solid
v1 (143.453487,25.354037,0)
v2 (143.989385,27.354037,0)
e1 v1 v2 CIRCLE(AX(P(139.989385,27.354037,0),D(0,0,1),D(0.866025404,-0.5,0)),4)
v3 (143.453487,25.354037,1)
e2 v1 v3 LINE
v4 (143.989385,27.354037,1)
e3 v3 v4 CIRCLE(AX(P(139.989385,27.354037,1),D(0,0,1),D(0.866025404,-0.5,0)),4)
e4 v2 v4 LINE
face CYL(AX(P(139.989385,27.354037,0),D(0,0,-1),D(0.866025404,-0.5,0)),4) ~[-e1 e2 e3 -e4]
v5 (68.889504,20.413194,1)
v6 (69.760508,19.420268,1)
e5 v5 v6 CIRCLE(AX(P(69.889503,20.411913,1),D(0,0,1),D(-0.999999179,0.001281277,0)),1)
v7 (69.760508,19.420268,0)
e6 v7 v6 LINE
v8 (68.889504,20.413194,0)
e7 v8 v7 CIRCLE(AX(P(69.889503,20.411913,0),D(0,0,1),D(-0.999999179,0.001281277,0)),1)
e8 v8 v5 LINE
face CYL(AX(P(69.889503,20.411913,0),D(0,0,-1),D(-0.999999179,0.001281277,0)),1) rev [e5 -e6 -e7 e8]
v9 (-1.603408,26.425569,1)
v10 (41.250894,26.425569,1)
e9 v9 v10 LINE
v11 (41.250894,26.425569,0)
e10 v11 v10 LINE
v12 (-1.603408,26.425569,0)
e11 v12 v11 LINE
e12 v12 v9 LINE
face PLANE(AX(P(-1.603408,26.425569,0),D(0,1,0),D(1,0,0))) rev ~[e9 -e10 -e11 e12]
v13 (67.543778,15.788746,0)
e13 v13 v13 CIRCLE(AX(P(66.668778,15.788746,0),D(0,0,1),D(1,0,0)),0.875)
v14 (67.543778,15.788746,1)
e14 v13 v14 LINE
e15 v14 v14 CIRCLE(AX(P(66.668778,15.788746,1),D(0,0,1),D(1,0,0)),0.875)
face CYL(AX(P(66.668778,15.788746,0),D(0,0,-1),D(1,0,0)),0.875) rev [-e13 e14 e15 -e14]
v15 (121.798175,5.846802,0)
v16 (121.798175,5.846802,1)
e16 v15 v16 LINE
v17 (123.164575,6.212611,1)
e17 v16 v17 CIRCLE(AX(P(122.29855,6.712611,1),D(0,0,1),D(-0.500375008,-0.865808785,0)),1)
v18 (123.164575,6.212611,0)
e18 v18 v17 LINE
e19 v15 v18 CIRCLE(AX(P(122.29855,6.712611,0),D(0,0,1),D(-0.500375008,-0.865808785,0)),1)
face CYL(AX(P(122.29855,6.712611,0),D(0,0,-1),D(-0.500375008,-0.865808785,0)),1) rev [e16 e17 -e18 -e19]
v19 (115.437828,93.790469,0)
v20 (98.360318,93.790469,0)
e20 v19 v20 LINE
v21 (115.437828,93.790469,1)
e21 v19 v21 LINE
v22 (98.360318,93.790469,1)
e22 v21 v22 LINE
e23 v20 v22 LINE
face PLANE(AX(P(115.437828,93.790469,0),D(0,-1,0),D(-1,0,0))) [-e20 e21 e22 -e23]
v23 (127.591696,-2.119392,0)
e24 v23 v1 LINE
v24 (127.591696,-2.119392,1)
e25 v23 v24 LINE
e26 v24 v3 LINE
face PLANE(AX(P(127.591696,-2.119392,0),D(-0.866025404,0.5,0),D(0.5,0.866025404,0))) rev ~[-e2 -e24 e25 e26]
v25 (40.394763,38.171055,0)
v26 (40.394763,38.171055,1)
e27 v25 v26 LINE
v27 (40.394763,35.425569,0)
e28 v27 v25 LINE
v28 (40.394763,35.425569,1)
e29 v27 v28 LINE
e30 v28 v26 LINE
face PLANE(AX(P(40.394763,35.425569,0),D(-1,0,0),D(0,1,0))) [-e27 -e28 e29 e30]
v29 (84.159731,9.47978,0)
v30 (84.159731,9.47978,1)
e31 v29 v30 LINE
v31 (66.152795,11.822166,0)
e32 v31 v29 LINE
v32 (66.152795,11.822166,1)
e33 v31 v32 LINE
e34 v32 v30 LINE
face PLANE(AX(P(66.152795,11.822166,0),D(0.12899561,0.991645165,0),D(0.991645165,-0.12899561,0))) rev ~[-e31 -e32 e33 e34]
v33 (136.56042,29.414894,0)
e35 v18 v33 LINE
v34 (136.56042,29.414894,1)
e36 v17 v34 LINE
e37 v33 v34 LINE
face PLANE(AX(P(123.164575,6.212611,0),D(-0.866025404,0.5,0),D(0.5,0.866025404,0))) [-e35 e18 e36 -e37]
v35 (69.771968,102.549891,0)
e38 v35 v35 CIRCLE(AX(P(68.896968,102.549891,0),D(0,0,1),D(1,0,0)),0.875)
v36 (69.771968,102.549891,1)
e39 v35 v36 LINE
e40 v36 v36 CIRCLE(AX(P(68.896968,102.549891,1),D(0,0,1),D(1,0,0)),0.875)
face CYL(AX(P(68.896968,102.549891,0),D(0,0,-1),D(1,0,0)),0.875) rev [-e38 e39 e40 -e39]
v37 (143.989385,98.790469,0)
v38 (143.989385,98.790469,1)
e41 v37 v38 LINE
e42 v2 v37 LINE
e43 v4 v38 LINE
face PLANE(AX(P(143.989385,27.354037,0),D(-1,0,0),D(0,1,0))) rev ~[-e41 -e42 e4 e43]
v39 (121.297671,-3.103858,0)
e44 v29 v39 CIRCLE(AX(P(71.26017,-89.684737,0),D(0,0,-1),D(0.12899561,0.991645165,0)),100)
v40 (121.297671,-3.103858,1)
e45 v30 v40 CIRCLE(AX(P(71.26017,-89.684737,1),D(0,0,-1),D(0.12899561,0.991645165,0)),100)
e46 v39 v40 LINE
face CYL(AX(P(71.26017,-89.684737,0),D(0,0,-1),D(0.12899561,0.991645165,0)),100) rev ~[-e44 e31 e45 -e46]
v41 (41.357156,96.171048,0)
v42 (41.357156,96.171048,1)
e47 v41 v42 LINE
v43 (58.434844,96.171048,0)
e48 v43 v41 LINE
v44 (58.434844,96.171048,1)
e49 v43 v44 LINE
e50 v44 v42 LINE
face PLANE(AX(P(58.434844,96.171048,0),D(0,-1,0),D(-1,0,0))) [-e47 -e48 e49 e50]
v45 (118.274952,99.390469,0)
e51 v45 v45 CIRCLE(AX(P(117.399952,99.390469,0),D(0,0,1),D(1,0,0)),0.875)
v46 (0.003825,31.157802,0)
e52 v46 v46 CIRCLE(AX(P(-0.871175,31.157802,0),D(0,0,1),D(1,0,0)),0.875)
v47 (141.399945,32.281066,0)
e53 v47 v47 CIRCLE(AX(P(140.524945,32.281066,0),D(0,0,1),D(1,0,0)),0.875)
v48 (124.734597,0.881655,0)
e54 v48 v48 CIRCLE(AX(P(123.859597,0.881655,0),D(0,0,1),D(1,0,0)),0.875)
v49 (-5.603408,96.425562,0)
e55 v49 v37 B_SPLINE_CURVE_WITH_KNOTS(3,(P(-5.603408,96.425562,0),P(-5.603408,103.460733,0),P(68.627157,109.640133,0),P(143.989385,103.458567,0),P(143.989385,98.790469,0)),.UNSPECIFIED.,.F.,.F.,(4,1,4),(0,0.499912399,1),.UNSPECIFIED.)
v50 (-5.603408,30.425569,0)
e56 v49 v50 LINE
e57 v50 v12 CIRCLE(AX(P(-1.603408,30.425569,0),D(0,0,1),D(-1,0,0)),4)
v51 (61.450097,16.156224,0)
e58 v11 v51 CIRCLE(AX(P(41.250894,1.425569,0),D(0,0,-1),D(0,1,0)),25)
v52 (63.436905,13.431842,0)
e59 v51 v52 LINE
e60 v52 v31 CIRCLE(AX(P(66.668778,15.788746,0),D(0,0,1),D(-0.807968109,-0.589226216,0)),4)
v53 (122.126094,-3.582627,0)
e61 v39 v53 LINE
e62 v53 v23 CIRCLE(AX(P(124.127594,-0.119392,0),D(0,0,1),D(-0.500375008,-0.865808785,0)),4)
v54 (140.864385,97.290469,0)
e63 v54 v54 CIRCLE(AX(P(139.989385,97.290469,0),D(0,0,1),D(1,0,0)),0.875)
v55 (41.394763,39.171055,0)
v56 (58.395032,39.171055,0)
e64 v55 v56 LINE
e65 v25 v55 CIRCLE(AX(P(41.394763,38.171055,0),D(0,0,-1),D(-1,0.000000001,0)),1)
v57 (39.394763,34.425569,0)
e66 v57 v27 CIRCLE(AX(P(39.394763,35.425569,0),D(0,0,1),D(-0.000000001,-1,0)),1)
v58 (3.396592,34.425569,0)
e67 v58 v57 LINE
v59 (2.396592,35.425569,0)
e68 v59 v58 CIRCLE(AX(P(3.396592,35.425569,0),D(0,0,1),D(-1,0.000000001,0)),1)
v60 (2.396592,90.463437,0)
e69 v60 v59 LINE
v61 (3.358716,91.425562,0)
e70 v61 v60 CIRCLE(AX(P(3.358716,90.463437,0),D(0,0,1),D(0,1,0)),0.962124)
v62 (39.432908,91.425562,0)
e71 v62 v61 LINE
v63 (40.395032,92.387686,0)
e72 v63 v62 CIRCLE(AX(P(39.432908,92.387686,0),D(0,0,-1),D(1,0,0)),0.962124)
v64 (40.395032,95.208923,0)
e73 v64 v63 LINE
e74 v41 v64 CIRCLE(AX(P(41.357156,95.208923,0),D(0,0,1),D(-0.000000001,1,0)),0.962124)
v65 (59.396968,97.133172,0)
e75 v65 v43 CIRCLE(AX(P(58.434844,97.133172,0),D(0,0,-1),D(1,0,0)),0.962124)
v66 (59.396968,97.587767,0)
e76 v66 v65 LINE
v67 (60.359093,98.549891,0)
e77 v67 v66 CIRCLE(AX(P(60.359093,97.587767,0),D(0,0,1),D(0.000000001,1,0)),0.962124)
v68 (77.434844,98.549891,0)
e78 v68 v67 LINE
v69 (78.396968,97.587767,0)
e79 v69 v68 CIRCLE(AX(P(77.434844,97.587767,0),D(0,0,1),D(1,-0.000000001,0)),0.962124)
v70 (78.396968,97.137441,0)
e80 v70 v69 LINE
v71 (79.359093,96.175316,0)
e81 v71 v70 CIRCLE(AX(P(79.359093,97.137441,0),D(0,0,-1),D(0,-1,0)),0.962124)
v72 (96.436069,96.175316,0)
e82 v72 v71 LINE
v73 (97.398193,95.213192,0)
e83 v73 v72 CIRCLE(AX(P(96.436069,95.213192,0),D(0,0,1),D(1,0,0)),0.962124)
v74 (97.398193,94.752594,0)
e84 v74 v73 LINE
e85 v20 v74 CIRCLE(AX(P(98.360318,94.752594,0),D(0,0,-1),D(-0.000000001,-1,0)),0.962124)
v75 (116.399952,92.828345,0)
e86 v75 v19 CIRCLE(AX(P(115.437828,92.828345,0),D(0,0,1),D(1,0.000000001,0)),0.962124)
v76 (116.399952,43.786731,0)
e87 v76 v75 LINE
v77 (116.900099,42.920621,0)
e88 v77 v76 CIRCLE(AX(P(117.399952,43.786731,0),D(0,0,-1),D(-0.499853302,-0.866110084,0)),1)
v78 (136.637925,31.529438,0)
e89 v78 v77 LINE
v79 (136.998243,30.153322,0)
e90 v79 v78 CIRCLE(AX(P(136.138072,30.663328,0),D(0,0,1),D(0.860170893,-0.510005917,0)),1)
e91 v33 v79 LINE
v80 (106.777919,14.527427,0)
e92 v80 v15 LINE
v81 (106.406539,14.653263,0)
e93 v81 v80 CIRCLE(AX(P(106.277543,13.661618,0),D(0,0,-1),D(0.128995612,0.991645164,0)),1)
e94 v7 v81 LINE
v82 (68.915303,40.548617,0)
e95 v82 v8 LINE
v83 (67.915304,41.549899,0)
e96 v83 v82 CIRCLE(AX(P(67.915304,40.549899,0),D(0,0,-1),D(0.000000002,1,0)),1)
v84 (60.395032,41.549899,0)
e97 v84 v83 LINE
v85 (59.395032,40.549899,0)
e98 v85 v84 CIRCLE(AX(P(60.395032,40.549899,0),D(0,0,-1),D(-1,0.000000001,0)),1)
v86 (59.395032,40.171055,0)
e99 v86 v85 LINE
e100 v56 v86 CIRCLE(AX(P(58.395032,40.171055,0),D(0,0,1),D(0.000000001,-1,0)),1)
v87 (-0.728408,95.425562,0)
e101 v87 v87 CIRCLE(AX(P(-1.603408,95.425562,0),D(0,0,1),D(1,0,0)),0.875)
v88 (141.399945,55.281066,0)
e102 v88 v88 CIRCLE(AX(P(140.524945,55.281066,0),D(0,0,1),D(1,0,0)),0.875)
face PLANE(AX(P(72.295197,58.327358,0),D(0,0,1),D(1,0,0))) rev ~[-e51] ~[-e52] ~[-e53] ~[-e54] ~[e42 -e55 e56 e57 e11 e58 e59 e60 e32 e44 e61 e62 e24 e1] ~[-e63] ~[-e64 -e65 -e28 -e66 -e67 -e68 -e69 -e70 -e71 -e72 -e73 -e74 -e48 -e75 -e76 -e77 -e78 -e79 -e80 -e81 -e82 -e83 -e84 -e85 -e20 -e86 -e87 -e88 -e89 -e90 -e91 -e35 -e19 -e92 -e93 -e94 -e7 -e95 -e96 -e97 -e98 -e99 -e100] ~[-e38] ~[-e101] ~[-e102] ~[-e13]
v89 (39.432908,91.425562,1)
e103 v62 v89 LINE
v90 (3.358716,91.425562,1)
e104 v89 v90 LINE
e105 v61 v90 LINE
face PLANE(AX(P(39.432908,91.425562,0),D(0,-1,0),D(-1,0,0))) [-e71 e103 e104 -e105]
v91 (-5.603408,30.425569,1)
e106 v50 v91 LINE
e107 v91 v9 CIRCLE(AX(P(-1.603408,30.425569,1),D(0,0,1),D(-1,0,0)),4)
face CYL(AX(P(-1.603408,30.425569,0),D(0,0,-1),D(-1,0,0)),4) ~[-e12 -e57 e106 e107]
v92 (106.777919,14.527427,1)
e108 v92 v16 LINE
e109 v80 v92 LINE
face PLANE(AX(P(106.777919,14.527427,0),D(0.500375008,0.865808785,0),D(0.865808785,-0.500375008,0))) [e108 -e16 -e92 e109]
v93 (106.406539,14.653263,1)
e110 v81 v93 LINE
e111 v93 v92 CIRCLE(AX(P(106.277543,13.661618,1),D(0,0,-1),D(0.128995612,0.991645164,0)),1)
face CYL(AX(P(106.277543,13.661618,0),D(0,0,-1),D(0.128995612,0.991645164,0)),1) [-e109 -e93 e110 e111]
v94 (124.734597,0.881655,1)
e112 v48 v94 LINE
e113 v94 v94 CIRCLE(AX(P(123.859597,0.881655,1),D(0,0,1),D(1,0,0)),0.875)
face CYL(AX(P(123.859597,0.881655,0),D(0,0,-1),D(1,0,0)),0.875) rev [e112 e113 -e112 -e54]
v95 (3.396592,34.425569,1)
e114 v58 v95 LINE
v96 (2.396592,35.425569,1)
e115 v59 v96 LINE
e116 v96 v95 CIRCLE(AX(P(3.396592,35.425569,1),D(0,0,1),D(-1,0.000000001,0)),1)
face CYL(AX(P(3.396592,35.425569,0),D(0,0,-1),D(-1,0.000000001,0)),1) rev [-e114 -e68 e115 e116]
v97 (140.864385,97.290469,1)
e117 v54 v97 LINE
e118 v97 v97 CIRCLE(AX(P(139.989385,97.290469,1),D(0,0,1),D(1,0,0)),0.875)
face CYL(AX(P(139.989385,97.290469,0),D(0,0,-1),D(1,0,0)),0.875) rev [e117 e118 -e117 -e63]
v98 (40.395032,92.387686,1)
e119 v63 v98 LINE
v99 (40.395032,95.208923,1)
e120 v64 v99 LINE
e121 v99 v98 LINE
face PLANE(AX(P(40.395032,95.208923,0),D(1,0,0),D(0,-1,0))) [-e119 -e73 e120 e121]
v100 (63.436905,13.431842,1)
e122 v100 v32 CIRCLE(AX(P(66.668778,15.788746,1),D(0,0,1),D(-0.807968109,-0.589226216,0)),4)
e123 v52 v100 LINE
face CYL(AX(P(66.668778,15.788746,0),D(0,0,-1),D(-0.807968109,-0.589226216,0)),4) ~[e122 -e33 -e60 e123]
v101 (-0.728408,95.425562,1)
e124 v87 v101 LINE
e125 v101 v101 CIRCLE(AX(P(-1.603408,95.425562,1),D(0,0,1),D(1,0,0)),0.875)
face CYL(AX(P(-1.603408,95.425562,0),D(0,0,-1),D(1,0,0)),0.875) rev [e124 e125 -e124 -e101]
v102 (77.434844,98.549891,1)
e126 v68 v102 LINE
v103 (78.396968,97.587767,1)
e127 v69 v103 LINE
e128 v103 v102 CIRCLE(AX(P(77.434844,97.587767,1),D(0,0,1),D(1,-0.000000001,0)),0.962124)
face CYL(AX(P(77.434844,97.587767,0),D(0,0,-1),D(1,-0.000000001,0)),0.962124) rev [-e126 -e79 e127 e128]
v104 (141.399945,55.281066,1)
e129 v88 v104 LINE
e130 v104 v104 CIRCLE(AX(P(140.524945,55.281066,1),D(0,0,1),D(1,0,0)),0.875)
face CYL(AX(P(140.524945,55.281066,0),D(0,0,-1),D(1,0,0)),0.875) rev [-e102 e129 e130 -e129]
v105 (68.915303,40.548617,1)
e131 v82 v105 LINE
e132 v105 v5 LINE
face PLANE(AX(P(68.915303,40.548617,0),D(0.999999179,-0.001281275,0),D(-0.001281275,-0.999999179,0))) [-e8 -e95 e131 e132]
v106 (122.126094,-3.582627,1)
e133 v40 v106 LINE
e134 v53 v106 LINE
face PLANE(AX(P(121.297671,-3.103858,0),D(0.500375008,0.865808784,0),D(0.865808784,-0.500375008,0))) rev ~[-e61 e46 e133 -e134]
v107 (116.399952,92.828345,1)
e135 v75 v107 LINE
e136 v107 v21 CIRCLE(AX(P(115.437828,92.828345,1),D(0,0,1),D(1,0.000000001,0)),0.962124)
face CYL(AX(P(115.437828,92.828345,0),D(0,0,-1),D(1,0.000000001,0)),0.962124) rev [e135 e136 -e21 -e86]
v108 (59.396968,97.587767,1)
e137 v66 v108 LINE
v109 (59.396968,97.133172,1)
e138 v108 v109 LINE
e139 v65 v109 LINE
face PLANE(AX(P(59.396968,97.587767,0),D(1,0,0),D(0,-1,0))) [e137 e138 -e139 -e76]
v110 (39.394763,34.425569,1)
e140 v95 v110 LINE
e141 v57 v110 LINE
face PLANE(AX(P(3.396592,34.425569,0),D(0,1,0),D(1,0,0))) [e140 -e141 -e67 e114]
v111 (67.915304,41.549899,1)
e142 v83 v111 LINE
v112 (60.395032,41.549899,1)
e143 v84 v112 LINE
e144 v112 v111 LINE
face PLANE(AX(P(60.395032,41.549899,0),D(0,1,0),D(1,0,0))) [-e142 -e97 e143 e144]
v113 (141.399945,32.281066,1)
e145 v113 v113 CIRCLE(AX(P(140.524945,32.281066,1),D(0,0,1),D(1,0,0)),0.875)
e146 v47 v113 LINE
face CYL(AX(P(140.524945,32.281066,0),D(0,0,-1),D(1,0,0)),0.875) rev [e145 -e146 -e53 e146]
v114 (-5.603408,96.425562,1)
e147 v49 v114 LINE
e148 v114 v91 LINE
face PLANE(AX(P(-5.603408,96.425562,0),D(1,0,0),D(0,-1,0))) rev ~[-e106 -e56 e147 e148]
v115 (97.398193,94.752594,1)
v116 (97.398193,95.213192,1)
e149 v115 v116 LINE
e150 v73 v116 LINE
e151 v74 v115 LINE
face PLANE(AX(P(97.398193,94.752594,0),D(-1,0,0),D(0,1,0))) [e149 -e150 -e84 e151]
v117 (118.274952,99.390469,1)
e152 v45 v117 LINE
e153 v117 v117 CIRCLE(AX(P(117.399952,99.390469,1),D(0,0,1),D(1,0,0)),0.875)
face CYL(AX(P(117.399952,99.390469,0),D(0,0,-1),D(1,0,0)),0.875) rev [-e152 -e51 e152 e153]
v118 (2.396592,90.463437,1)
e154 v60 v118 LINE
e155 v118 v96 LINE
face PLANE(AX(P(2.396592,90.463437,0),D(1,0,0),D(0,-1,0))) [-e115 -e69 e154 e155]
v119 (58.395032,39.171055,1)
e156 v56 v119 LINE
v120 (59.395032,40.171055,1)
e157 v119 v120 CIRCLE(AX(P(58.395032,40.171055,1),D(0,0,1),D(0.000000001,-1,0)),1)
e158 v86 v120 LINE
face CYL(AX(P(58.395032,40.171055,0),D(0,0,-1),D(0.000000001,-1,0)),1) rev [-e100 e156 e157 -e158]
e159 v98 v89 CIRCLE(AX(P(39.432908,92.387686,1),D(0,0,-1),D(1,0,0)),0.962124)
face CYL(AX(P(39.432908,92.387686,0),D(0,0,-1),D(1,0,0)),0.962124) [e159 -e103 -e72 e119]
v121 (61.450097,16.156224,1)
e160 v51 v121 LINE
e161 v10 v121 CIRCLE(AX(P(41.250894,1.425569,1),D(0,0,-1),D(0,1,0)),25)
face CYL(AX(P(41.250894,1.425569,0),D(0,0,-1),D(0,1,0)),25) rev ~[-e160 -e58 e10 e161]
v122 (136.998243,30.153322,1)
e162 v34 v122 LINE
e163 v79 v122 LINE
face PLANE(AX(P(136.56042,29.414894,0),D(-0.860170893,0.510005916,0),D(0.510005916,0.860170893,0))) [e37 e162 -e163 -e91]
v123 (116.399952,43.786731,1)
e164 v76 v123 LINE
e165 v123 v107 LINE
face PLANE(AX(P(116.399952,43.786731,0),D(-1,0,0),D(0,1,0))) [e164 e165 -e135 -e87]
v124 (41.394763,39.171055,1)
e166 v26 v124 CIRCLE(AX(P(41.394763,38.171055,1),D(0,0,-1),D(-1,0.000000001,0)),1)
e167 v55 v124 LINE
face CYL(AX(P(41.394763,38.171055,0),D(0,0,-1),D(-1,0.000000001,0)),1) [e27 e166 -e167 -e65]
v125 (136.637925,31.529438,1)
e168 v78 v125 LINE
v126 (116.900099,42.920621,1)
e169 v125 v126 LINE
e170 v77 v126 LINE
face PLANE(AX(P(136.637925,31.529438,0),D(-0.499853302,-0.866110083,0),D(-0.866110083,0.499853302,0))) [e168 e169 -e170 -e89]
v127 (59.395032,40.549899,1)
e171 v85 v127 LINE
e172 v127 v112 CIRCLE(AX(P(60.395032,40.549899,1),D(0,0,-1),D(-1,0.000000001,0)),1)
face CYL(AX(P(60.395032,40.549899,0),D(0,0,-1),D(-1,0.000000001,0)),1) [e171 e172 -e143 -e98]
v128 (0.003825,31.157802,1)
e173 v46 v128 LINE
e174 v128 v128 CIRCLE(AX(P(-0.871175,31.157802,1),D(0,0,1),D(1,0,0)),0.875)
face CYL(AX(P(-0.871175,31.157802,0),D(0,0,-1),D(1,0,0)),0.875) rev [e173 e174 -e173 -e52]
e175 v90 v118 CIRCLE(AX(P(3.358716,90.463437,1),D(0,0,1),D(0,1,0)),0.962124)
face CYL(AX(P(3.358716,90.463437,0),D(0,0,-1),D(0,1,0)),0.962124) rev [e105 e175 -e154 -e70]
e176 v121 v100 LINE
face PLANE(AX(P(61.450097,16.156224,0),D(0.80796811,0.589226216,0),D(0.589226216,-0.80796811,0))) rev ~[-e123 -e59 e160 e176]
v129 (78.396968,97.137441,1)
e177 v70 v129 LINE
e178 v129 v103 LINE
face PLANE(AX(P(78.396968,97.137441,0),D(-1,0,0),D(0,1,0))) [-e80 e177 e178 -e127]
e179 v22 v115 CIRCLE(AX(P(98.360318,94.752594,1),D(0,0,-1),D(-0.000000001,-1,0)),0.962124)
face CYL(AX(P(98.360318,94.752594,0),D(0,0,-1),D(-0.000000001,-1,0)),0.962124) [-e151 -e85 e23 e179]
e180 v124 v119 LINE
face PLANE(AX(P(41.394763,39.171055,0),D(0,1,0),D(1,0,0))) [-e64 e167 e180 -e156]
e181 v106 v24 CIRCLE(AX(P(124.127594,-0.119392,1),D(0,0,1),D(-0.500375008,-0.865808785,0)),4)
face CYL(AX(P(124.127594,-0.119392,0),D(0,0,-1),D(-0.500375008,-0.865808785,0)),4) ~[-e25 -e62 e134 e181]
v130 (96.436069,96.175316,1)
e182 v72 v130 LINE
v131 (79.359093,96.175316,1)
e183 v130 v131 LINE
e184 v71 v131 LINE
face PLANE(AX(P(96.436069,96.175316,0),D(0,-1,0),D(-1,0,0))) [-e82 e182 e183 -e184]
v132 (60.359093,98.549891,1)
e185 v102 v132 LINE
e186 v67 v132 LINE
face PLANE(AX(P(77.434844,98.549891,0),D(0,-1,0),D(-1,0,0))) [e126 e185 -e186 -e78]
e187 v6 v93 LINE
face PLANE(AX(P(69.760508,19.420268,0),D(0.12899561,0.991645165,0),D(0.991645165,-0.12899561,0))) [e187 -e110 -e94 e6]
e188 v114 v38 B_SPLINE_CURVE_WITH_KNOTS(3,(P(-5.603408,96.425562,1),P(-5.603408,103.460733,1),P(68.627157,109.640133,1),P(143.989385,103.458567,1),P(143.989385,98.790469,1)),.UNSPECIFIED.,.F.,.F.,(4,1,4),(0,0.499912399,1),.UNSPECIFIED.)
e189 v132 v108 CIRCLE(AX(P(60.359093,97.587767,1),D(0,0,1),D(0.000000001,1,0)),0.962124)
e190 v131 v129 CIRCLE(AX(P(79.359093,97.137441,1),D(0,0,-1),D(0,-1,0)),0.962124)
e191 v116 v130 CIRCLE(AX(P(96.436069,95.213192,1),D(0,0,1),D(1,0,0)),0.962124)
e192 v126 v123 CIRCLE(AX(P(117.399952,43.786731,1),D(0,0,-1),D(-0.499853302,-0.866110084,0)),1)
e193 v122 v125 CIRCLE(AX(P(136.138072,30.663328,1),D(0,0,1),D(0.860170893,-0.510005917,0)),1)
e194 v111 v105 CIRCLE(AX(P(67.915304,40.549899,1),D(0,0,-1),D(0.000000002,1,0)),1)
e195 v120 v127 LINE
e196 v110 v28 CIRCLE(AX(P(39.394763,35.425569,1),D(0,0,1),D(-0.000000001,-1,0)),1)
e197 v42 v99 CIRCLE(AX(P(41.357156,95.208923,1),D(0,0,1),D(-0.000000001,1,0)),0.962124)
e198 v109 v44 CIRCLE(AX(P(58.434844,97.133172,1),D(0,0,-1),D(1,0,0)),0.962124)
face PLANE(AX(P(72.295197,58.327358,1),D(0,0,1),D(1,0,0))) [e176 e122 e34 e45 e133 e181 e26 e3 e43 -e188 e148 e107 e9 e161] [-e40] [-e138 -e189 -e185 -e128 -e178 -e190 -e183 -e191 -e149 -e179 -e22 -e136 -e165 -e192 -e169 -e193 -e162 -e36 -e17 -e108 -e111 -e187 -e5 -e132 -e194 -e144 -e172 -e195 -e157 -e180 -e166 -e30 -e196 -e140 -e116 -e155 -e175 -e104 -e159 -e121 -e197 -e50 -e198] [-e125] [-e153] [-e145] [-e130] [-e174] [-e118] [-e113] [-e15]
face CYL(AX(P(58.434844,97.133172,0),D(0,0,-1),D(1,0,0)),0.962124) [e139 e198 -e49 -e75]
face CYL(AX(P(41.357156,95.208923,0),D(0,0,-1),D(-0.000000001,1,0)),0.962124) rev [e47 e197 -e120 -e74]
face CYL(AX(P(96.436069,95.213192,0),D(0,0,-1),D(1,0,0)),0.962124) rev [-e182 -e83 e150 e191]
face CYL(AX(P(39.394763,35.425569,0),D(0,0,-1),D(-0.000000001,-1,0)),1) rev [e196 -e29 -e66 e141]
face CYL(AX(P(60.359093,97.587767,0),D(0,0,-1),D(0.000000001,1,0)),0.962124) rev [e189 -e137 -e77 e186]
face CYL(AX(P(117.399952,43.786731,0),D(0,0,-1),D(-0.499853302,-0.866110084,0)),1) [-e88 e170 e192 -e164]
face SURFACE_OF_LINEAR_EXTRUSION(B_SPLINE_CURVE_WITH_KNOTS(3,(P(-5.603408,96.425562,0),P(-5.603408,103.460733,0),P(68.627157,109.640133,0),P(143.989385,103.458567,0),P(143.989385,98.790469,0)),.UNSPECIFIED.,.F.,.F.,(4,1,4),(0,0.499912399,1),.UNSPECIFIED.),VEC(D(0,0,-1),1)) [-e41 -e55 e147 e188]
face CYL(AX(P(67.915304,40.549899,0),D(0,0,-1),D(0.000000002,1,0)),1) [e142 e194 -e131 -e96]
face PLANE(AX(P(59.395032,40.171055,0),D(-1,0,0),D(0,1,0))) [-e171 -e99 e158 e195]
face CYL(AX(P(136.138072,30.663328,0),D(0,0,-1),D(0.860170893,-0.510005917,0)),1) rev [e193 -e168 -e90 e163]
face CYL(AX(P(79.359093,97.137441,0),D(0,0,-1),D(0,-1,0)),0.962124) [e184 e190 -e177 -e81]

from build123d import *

# Parameters (mm, degrees)
SKETCH2_R           = 0.875
BOSS_EXTRUDE1_DEPTH = 1


with BuildPart() as part:
    # Sketch2 → Boss-Extrude1 (new body)
    with BuildSketch(Plane.XY):
        with BuildLine():
            Line((-5.603408365, 96.42556159), (-5.603408365, 30.425568858))
            ThreePointArc((-5.603408365, 30.425568858), (-4.43183549, 27.597141733), (-1.603408365, 26.425568858))
            Line((-1.603408365, 26.425568858), (41.250894393, 26.425568858))
            ThreePointArc((41.250894393, 26.425568858), (52.580802046, 23.710837368), (61.450097132, 16.156224264))
            Line((61.450097132, 16.156224264), (63.436905361, 13.431841599))
            ThreePointArc((63.436905361, 13.431841599), (64.629324911, 12.347724535), (66.15279536, 11.822165805))
            Line((66.15279536, 11.822165805), (84.159730921, 9.479779923))
            ThreePointArc((84.159730921, 9.479779923), (103.351530482, 5.02611066), (121.297670701, -3.103858071))
            Line((121.297670701, -3.103858071), (122.126093986, -3.582626958))
            ThreePointArc((122.126093986, -3.582626958), (125.162033535, -3.98331921), (127.591695632, -2.119391819))
            Line((127.591695632, -2.119391819), (143.453487011, 25.354036748))
            ThreePointArc((143.453487011, 25.354036748), (143.853088701, 26.318760568), (143.989385396, 27.354036748))
            Line((143.989385396, 27.354036748), (143.989385396, 98.790469349))
            add(Edge.make_bspline(
                [(-5.603408365, 96.42556159), (-5.603408365, 103.460733083), (68.627157279, 109.640132521), (143.989385396, 103.458567417), (143.989385396, 98.790469349)],
                knots=[0, 0, 0, 0, 0.499912399, 1, 1, 1, 1], degree=3))
        make_face()
        with Locations((123.859596668, 0.88165491)):
            Circle(SKETCH2_R, mode=Mode.SUBTRACT)
        with Locations((140.524945013, 32.281066453)):
            Circle(SKETCH2_R, mode=Mode.SUBTRACT)
        with Locations((140.524945013, 55.281066453)):
            Circle(SKETCH2_R, mode=Mode.SUBTRACT)
        with Locations((139.989385396, 97.290469349)):
            Circle(SKETCH2_R, mode=Mode.SUBTRACT)
        with Locations((117.399952063, 99.390469349)):
            Circle(SKETCH2_R, mode=Mode.SUBTRACT)
        with Locations((68.896968427, 102.54989148)):
            Circle(SKETCH2_R, mode=Mode.SUBTRACT)
        with Locations((-1.603408365, 95.42556159)):
            Circle(SKETCH2_R, mode=Mode.SUBTRACT)
        with Locations((-0.871175318, 31.157801905)):
            Circle(SKETCH2_R, mode=Mode.SUBTRACT)
        with Locations((66.6687778, 15.788746464)):
            Circle(SKETCH2_R, mode=Mode.SUBTRACT)
        with BuildLine():
            Line((2.396591635, 90.463437274), (2.396591635, 35.425568858))
            ThreePointArc((2.396591635, 35.425568858), (2.689484854, 34.718462076), (3.396591635, 34.425568858))
            Line((3.396591635, 34.425568858), (39.394762972, 34.425568858))
            ThreePointArc((39.394762972, 34.425568858), (40.101869753, 34.718462076), (40.394762972, 35.425568858))
            Line((40.394762972, 35.425568858), (40.394762972, 38.171054802))
            ThreePointArc((40.394762972, 38.171054802), (40.687656191, 38.878161583), (41.394762972, 39.171054802))
            Line((41.394762972, 39.171054802), (58.395031929, 39.171054802))
            ThreePointArc((58.395031929, 39.171054802), (59.10213871, 39.463948021), (59.395031929, 40.171054802))
            Line((59.395031929, 40.171054802), (59.395031929, 40.549898748))
            ThreePointArc((59.395031929, 40.549898748), (59.687925148, 41.257005529), (60.395031929, 41.549898748))
            Line((60.395031929, 41.549898748), (67.915303846, 41.549898748))
            ThreePointArc((67.915303846, 41.549898748), (68.622863481, 41.256552384), (68.915303025, 40.548617472))
            Line((68.915303025, 40.548617472), (68.889503983, 20.413194101))
            ThreePointArc((68.889503983, 20.413194101), (69.137749853, 19.75246839), (69.760507552, 19.420267661))
            Line((69.760507552, 19.420267661), (106.406539112, 14.653262932))
            ThreePointArc((106.406539112, 14.653262932), (106.598457108, 14.608726239), (106.77791851, 14.527426552))
            Line((106.77791851, 14.527426552), (121.798174914, 5.846802094))
            ThreePointArc((121.798174914, 5.846802094), (122.557159801, 5.746629031), (123.164575325, 6.212610879))
            Line((123.164575325, 6.212610879), (136.560419931, 29.414894346))
            Line((136.560419931, 29.414894346), (136.998243059, 30.153322469))
            ThreePointArc((136.998243059, 30.153322469), (137.105460539, 30.916626107), (136.637925468, 31.529438468))
            Line((136.637925468, 31.529438468), (116.900098761, 42.920620776))
            ThreePointArc((116.900098761, 42.920620776), (116.533969008, 43.286657516), (116.399952063, 43.78673086))
            Line((116.399952063, 43.78673086), (116.399952063, 92.828345033))
            ThreePointArc((116.399952063, 92.828345033), (116.118152375, 93.508669661), (115.437827746, 93.790469349))
            Line((115.437827746, 93.790469349), (98.360317754, 93.790469349))
            ThreePointArc((98.360317754, 93.790469349), (97.679993126, 94.072269037), (97.398193438, 94.752593666))
            Line((97.398193438, 94.752593666), (97.398193438, 95.213192117))
            ThreePointArc((97.398193438, 95.213192117), (97.11639375, 95.893516746), (96.436069121, 96.175316434))
            Line((96.436069121, 96.175316434), (79.359092742, 96.175316434))
            ThreePointArc((79.359092742, 96.175316434), (78.678768113, 96.457116122), (78.396968425, 97.137440751))
            Line((78.396968425, 97.137440751), (78.396968425, 97.587767164))
            ThreePointArc((78.396968425, 97.587767164), (78.115168737, 98.268091793), (77.434844109, 98.54989148))
            Line((77.434844109, 98.54989148), (60.359092745, 98.54989148))
            ThreePointArc((60.359092745, 98.54989148), (59.678768117, 98.268091793), (59.396968429, 97.587767164))
            Line((59.396968429, 97.587767164), (59.396968429, 97.133171852))
            ThreePointArc((59.396968429, 97.133171852), (59.115168741, 96.452847223), (58.434844112, 96.171047535))
            Line((58.434844112, 96.171047535), (41.357156249, 96.171047535))
            ThreePointArc((41.357156249, 96.171047535), (40.676831621, 95.889247847), (40.395031933, 95.208923218))
            Line((40.395031933, 95.208923218), (40.395031933, 92.387685907))
            ThreePointArc((40.395031933, 92.387685907), (40.113232245, 91.707361278), (39.432907616, 91.42556159))
            Line((39.432907616, 91.42556159), (3.358715952, 91.42556159))
            ThreePointArc((3.358715952, 91.42556159), (2.678391323, 91.143761902), (2.396591635, 90.463437274))
        make_face(mode=Mode.SUBTRACT)
    extrude(amount=BOSS_EXTRUDE1_DEPTH)


solid = part.part
